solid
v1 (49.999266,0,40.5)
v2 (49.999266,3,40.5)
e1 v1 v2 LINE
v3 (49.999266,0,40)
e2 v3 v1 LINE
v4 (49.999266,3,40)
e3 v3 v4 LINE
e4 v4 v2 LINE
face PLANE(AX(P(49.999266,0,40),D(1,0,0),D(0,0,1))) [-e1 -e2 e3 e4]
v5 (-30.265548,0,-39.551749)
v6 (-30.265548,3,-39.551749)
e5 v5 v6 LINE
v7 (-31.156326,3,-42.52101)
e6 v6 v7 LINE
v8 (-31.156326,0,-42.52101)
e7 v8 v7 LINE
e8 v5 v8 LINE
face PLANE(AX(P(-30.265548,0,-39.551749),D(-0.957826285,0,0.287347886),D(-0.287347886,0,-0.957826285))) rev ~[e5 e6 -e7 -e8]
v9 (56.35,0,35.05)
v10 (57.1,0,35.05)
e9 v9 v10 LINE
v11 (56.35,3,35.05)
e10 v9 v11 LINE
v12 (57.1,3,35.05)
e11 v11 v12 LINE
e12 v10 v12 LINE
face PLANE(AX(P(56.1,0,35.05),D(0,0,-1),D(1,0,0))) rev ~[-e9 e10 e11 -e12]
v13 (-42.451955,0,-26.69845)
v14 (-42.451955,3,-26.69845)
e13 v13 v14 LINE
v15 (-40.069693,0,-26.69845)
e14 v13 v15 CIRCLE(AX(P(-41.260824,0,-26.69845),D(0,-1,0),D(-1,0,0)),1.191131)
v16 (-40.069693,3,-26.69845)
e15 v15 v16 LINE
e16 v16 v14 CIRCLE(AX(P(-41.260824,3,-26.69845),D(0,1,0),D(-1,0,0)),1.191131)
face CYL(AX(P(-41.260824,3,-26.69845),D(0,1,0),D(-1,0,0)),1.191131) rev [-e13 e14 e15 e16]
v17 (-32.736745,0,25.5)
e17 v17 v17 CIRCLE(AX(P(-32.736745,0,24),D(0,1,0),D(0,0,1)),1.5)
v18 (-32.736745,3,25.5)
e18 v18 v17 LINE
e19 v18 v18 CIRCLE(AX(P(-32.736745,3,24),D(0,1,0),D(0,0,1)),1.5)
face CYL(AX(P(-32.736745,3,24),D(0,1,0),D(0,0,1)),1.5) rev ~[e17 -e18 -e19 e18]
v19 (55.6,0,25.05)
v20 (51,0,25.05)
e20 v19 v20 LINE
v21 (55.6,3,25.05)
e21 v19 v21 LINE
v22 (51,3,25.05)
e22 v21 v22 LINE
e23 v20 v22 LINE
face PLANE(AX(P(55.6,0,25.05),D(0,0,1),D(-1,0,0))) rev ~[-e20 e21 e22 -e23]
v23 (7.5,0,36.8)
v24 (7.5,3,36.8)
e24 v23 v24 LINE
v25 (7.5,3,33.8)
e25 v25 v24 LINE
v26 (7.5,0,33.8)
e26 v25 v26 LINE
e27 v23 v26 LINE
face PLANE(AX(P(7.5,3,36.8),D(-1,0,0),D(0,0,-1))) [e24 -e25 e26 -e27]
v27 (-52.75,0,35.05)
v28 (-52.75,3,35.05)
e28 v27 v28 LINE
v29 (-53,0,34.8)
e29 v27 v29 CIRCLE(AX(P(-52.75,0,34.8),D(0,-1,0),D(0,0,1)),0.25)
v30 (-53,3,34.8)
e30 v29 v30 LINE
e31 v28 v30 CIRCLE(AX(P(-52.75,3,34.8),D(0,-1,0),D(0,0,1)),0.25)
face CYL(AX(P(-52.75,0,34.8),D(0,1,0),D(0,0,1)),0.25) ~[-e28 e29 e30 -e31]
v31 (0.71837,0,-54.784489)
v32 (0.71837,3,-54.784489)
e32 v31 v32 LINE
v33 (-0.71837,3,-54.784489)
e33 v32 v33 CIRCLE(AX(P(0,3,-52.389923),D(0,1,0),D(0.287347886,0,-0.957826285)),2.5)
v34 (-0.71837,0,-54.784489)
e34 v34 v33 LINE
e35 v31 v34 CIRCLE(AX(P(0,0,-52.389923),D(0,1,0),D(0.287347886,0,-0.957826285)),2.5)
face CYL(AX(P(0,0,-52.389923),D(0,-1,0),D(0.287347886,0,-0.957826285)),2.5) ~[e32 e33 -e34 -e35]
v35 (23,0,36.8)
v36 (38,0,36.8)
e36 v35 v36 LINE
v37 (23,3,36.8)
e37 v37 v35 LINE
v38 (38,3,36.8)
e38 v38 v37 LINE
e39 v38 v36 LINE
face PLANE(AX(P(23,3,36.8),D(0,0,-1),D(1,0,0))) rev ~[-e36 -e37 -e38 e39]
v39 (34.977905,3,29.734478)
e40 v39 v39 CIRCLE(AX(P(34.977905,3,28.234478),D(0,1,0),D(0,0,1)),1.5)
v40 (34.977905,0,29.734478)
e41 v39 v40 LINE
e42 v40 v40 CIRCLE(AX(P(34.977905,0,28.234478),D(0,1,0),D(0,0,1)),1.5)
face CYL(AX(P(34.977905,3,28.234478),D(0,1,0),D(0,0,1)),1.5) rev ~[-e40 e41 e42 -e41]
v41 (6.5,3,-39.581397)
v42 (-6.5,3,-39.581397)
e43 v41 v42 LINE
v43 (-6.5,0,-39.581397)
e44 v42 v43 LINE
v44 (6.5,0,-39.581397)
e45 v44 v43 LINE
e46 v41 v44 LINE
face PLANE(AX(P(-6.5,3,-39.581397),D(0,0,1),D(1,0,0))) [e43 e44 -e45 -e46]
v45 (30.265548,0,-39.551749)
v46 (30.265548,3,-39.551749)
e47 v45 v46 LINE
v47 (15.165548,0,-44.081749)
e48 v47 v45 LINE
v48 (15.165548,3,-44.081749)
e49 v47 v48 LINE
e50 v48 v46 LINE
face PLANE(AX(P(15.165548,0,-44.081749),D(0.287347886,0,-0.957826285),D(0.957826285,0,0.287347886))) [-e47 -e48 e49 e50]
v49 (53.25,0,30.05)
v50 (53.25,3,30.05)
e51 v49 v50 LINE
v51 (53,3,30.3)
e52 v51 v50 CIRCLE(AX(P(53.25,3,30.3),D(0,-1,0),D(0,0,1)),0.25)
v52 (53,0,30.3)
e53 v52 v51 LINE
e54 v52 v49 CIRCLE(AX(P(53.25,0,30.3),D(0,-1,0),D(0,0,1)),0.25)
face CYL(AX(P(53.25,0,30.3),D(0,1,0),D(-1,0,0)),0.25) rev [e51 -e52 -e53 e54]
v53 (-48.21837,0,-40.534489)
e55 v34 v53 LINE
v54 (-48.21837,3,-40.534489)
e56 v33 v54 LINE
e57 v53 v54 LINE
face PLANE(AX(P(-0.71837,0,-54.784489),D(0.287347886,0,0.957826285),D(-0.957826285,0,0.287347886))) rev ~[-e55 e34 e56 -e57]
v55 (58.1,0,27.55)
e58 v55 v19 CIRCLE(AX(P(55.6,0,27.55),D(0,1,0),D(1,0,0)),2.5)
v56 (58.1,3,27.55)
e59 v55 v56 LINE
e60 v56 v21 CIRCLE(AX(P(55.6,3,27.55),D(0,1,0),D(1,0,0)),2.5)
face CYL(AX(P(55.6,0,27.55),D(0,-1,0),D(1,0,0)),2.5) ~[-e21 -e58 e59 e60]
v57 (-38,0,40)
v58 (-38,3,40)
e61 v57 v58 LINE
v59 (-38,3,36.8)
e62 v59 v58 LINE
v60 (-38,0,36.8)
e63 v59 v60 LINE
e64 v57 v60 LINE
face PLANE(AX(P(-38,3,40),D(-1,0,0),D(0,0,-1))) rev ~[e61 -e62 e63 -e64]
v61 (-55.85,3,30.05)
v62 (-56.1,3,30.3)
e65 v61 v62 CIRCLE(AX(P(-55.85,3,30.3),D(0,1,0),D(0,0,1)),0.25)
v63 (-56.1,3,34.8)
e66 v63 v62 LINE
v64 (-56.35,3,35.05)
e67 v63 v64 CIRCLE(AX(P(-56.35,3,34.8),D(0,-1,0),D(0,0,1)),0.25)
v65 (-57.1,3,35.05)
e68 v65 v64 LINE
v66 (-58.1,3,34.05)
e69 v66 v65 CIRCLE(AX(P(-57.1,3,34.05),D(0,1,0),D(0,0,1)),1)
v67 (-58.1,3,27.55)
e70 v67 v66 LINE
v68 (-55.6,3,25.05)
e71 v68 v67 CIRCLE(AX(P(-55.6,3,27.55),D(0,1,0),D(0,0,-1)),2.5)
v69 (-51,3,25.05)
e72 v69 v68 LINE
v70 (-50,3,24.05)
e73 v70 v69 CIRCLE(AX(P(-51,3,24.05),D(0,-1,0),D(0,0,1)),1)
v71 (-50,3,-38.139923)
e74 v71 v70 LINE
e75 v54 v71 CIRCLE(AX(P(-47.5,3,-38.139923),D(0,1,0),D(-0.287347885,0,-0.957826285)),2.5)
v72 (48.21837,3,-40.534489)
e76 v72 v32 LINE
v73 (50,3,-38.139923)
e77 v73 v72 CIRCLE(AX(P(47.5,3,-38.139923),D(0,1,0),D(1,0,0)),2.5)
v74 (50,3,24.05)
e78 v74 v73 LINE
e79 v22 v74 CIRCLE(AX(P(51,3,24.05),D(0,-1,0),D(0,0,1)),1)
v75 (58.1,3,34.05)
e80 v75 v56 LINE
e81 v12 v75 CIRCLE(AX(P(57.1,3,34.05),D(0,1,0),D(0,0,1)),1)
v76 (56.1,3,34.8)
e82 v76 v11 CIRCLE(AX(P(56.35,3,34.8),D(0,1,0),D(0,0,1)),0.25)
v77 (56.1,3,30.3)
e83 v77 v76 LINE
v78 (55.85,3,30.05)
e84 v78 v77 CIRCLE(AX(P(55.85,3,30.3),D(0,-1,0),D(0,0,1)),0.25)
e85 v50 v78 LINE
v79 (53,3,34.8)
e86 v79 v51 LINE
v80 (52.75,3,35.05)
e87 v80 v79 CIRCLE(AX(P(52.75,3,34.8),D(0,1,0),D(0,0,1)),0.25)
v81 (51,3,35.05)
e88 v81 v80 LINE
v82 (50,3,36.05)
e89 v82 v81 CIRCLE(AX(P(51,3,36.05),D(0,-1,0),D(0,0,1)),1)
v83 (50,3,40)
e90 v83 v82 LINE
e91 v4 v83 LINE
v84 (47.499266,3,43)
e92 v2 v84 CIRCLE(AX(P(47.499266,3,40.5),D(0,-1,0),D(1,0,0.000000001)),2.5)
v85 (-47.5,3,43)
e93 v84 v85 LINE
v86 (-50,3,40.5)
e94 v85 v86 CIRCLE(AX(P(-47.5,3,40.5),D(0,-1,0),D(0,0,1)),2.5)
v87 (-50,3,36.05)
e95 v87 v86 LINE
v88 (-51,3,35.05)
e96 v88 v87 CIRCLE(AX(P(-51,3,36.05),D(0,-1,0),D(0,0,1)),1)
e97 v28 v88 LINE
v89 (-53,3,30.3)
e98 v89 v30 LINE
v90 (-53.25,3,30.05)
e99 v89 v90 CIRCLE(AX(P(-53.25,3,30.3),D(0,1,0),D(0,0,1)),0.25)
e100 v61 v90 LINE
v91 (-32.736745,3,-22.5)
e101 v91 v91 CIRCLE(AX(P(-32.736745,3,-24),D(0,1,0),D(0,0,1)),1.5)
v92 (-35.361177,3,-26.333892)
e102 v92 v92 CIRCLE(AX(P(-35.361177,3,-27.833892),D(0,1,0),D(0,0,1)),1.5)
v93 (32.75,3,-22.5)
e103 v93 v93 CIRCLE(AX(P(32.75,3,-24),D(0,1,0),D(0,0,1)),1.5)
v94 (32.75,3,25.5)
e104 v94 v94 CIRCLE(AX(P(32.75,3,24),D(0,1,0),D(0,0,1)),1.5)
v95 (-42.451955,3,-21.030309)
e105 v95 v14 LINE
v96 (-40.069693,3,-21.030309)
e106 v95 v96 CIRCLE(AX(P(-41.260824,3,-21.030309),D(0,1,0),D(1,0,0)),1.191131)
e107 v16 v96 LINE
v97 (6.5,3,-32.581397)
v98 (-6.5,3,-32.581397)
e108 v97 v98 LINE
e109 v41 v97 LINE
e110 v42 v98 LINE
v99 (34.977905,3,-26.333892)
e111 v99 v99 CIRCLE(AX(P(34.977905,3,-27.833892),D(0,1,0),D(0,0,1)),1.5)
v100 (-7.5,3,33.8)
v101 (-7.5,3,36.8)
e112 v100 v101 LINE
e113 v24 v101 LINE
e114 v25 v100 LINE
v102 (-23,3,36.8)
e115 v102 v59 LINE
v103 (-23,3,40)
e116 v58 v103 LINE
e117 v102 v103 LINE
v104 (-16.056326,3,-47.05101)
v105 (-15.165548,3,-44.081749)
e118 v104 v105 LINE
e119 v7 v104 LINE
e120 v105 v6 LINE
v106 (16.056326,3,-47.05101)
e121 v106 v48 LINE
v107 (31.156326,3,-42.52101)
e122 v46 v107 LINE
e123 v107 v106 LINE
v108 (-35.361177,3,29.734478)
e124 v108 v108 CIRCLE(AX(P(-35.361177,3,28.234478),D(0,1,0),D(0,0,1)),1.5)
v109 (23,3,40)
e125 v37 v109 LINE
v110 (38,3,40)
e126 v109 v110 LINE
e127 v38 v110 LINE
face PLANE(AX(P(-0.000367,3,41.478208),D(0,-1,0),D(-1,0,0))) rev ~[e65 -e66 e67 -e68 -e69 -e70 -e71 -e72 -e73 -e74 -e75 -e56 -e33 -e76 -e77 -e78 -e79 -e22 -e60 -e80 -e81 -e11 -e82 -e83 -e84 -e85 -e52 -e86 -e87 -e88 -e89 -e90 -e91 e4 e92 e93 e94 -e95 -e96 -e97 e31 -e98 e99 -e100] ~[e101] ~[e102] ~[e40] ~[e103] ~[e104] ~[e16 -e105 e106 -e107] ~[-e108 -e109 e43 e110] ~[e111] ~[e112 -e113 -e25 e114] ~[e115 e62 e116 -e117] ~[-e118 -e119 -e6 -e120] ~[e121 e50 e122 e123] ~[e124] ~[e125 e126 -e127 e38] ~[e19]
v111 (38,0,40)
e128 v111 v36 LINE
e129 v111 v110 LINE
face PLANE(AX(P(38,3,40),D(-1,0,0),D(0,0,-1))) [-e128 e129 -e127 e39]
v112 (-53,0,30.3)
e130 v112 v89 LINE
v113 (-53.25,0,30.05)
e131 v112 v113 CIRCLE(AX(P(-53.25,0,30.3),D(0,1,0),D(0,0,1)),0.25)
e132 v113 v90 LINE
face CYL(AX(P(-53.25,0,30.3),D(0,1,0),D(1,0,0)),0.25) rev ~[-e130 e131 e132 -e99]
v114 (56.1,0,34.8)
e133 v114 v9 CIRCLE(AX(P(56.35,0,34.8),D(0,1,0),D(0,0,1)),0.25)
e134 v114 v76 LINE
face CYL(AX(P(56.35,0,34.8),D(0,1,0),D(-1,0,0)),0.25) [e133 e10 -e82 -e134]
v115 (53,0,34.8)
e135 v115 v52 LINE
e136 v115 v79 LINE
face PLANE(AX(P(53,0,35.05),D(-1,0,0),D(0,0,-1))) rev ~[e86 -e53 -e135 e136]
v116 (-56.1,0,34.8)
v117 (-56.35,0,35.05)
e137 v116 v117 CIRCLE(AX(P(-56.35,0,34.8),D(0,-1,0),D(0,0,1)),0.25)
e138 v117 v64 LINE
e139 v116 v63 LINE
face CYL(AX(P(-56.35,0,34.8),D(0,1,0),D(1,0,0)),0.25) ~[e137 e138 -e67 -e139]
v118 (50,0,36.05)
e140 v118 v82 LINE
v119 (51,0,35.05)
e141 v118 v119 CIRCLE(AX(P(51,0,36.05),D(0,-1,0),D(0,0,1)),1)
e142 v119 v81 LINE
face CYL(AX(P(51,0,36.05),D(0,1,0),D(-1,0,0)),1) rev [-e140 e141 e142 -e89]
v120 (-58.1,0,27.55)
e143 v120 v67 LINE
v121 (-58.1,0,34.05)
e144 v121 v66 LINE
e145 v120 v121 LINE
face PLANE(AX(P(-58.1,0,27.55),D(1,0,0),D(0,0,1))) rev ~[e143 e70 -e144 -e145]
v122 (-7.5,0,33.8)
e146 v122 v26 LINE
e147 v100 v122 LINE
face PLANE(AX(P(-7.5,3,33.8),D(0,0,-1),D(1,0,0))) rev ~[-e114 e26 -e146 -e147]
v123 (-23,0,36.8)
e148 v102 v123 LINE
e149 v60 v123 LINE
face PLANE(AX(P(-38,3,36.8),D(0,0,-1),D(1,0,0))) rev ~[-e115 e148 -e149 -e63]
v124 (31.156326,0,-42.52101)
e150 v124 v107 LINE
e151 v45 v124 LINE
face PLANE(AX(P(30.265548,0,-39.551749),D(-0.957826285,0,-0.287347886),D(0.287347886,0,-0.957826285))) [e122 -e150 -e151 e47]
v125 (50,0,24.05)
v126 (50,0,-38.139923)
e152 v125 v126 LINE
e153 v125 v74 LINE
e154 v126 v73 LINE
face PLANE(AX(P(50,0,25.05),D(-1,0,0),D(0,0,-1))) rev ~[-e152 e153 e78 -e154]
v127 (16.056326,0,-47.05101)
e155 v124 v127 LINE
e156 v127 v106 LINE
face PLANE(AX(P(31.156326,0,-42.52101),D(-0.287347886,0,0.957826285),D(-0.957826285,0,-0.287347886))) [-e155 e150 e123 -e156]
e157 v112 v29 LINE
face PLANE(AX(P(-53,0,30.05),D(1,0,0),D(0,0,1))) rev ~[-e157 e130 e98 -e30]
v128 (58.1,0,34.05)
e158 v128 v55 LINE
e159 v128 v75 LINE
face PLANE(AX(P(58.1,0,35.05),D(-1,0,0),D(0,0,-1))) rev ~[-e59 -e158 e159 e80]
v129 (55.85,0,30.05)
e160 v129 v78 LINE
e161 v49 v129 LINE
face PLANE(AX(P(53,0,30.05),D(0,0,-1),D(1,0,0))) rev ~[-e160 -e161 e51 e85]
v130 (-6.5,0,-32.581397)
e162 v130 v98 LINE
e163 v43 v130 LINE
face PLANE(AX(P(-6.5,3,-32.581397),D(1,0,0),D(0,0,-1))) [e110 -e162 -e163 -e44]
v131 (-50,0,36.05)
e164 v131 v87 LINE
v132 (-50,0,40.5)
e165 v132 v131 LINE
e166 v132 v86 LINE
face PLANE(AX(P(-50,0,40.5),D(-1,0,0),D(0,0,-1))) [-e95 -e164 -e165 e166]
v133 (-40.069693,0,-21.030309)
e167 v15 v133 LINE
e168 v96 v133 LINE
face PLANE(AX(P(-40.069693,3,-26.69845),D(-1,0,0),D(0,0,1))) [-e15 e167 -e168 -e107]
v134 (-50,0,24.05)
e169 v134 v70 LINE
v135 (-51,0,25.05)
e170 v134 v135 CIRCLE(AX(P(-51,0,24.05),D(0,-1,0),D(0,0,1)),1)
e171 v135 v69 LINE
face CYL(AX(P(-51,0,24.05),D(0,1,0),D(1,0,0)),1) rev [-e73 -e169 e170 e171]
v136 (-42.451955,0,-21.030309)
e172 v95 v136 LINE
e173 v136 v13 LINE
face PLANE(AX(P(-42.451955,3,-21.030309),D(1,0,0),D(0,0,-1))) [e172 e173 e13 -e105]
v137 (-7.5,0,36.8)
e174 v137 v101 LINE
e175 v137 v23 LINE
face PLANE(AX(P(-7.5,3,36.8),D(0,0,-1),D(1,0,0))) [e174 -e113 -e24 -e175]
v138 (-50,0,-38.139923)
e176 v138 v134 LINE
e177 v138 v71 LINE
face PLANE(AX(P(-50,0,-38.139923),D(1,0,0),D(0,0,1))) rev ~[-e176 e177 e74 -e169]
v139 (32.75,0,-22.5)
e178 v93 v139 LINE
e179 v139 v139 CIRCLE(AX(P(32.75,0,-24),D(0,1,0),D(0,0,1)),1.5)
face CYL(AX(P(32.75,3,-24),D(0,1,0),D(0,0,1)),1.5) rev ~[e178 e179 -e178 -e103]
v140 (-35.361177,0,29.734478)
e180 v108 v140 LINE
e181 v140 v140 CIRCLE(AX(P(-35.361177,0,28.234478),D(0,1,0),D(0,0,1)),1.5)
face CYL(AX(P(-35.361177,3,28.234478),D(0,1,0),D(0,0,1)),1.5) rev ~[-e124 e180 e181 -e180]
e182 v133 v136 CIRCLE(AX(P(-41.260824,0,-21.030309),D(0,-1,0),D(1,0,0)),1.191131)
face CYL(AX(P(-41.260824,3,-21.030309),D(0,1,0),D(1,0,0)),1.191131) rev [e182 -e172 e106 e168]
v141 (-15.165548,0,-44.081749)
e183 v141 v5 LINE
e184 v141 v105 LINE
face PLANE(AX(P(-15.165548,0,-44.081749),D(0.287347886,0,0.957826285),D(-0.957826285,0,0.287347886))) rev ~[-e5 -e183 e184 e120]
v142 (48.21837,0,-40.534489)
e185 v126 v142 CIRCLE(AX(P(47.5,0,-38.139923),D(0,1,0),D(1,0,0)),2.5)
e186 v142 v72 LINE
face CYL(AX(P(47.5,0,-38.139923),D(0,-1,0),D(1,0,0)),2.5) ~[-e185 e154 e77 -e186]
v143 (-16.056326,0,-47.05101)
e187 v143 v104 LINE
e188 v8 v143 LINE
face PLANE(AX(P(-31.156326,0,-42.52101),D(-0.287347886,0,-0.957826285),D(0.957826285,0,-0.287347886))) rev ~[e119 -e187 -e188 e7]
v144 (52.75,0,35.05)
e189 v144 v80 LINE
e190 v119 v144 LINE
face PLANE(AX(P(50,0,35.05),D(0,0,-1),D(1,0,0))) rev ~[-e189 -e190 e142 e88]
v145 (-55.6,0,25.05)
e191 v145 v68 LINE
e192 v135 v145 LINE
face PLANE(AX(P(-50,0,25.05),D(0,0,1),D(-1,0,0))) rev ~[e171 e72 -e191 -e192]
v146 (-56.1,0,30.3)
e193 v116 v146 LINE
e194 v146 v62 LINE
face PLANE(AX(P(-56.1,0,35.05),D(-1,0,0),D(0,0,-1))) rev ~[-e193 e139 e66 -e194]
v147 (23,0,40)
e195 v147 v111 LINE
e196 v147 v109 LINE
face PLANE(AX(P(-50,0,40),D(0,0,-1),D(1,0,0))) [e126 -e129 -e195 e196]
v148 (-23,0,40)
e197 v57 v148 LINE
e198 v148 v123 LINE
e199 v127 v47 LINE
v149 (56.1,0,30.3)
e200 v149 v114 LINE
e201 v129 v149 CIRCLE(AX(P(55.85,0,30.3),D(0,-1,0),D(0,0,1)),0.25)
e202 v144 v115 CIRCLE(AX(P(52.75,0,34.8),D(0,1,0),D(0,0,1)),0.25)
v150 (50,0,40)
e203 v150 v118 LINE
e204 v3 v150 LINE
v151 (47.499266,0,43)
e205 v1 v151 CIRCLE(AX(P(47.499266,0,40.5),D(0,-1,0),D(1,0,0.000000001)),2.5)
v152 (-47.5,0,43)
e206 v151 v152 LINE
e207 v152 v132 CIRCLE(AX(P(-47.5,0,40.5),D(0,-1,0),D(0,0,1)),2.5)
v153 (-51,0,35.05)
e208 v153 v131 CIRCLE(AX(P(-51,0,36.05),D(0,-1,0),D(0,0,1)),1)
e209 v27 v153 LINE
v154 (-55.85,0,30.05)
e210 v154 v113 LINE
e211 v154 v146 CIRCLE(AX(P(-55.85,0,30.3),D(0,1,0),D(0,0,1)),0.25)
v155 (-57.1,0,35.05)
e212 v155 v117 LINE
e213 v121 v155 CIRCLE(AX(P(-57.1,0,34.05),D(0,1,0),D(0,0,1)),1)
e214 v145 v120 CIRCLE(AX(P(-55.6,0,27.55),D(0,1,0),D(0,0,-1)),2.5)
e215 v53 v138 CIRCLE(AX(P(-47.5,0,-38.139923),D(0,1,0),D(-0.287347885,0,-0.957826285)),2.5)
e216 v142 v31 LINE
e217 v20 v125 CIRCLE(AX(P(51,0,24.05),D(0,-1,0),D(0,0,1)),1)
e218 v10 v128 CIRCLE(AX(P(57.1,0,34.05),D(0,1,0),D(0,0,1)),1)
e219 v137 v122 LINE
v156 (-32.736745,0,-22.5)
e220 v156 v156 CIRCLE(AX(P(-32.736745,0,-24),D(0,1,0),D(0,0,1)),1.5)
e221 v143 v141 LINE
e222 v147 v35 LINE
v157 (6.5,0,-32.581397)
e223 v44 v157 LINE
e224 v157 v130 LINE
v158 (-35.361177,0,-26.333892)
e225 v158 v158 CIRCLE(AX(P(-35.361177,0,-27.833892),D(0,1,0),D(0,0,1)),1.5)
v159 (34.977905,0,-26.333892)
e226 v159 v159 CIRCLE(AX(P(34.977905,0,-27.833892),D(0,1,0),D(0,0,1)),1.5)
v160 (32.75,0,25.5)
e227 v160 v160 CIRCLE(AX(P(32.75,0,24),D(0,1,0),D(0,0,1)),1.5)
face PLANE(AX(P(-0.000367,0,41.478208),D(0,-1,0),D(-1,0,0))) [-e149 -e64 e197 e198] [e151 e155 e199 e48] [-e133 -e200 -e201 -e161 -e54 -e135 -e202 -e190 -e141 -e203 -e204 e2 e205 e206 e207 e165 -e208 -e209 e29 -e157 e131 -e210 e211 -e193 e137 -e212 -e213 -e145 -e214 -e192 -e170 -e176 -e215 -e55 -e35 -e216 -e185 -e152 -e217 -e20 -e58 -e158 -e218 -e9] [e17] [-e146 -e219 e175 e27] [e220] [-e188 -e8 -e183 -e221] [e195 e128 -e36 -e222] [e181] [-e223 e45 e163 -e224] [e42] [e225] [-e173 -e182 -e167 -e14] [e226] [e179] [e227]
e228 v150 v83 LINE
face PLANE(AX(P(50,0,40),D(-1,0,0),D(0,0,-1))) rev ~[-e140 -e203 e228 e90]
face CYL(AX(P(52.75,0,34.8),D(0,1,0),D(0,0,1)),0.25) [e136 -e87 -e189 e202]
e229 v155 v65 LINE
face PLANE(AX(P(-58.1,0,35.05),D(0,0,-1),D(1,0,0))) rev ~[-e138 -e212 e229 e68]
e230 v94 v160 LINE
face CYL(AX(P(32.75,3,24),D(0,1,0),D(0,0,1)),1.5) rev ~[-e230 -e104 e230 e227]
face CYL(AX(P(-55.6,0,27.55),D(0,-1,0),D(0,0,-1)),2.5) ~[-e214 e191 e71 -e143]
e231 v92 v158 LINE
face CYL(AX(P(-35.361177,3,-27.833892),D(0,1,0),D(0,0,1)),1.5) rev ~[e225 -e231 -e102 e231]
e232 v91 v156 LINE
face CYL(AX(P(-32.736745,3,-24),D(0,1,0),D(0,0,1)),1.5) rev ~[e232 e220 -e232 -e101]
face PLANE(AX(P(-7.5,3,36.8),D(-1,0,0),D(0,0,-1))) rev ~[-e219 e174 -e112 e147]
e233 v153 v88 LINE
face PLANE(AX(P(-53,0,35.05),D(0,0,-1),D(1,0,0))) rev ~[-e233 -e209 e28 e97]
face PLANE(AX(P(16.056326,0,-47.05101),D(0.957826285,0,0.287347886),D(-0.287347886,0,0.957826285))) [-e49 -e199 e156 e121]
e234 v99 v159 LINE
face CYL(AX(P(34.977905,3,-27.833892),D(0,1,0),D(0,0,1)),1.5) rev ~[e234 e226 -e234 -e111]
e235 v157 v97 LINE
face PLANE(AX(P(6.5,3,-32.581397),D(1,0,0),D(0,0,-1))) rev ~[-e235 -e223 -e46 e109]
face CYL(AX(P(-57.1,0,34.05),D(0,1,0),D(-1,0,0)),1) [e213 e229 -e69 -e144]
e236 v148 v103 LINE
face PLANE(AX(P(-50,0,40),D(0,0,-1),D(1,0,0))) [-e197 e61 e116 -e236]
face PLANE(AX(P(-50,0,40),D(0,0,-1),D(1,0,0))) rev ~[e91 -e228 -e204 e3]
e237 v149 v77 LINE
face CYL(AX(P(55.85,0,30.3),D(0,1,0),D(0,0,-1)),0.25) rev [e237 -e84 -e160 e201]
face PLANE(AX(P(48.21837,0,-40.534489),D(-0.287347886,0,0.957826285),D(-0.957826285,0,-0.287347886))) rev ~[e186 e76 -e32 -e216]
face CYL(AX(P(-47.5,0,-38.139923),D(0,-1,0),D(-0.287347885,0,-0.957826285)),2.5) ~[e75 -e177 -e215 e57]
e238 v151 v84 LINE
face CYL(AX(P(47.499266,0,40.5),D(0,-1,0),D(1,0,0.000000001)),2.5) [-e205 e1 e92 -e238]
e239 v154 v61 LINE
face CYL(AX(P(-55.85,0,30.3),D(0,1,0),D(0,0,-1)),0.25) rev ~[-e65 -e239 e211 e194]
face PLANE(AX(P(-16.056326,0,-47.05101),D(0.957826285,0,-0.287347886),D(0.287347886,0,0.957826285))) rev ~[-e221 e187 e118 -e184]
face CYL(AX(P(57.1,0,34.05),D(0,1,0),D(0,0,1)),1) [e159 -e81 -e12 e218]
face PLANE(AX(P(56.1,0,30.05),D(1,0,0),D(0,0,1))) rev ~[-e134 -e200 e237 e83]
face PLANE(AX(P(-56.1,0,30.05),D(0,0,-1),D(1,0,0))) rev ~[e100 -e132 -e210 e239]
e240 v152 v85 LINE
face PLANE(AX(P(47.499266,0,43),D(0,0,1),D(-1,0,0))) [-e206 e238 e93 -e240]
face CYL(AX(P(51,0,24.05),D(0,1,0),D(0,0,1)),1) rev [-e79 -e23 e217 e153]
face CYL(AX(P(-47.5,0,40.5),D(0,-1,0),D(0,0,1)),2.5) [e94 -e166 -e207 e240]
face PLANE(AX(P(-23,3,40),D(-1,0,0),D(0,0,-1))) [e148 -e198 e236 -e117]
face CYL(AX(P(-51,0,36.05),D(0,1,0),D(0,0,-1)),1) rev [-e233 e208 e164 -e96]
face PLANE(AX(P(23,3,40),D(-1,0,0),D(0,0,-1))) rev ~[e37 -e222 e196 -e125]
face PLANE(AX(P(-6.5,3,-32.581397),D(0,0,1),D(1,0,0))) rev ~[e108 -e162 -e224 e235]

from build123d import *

# Parameters (mm, degrees)
SALIENTE_EXTRUIR1_DEPTH = 3
CROQUIS4_R              = 1.5
CROQUIS4_W              = 15
CROQUIS4_H              = 3.2
CROQUIS4_H_2            = 3
CORTAR_EXTRUIR1_DEPTH   = 3
SALIENTE_EXTRUIR2_DEPTH = 3
REDONDEO1_R             = 1
REDONDEO2_R             = 0.25
CROQUIS6_R              = 1.5
CROQUIS6_W              = 13
CROQUIS6_H              = 7
CORTAR_EXTRUIR2_DEPTH   = 5


with BuildPart() as part:
    # Croquis3 → Saliente-Extruir1 (new body)
    with BuildSketch(Plane(origin=(0, 0, 0), x_dir=(1, 0, 0), z_dir=(0, 1, 0))):
        with BuildLine():
            Line((-50, -40), (50, -40))
            Line((50, -40), (50, -35.05))
            Line((50, -35.05), (53, -35.05))
            Line((53, -35.05), (53, -30.05))
            Line((53, -30.05), (56.1, -30.05))
            Line((56.1, -30.05), (56.1, -35.05))
            Line((56.1, -35.05), (58.1, -35.05))
            Line((58.1, -35.05), (58.1, -27.55))
            ThreePointArc((58.1, -27.55), (57.367766953, -25.782233047), (55.6, -25.05))
            Line((55.6, -25.05), (50, -25.05))
            Line((50, -25.05), (50, 38.139923373))
            ThreePointArc((50, 38.139923373), (49.505732321, 39.632249697), (48.218369714, 40.534489086))
            Line((48.218369714, 40.534489086), (0.718369714, 54.784489086))
            ThreePointArc((0.718369714, 54.784489086), (0, 54.889923373), (-0.718369714, 54.784489086))
            Line((-0.718369714, 54.784489086), (-48.218369714, 40.534489086))
            ThreePointArc((-48.218369714, 40.534489086), (-49.505732321, 39.632249697), (-50, 38.139923373))
            Line((-50, 38.139923373), (-50, -25.05))
            Line((-50, -25.05), (-55.6, -25.05))
            ThreePointArc((-55.6, -25.05), (-57.367766953, -25.782233047), (-58.1, -27.55))
            Line((-58.1, -27.55), (-58.1, -35.05))
            Line((-58.1, -35.05), (-56.1, -35.05))
            Line((-56.1, -35.05), (-56.1, -30.05))
            Line((-56.1, -30.05), (-53, -30.05))
            Line((-53, -30.05), (-53, -35.05))
            Line((-53, -35.05), (-50, -35.05))
            Line((-50, -35.05), (-50, -40))
        make_face()
        Polygon((-31.156326057, 42.52101023), (-16.056326057, 47.05101023), (-15.165547612, 44.081748746), (-30.265547612, 39.551748746), align=None, mode=Mode.SUBTRACT)
        Polygon((15.165547612, 44.081748746), (30.265547612, 39.551748746), (31.156326057, 42.52101023), (16.056326057, 47.05101023), align=None, mode=Mode.SUBTRACT)
    extrude(amount=SALIENTE_EXTRUIR1_DEPTH)

    # Croquis4 → Cortar-Extruir1 (cut, symmetric)
    with BuildSketch(Plane(origin=(0, 3, 0), x_dir=(1, 0, 0), z_dir=(0, 1, 0))):
        with Locations(Location((32.75, 24, 0), (0, 0, 270))):
            Circle(CROQUIS4_R)
        with Locations(Location((-32.736745283, 24, 0), (0, 0, 270))):
            Circle(CROQUIS4_R)
        with Locations(Location((32.75, -24, 0), (0, 0, 270))):
            Circle(CROQUIS4_R)
        with Locations(Location((-32.736745283, -24, 0), (0, 0, 270))):
            Circle(CROQUIS4_R)
        with Locations((-30.5, -38.4)):
            Rectangle(CROQUIS4_W, CROQUIS4_H)
        with Locations((30.5, -38.4)):
            Rectangle(CROQUIS4_W, CROQUIS4_H)
        with Locations((0, -35.3)):
            Rectangle(CROQUIS4_W, CROQUIS4_H_2)
        with BuildLine():
            Line((-40.069692956, 26.698449706), (-40.069692956, 21.030308718))
            ThreePointArc((-40.069692956, 21.030308718), (-41.260824034, 19.839177641), (-42.451955111, 21.030308718))
            Line((-42.451955111, 21.030308718), (-42.451955111, 26.698449706))
            ThreePointArc((-42.451955111, 26.698449706), (-41.260824034, 27.889580784), (-40.069692956, 26.698449706))
        make_face()
    extrude(amount=CORTAR_EXTRUIR1_DEPTH, both=True, mode=Mode.SUBTRACT)

    # Croquis5 → Saliente-Extruir2 (add)
    with BuildSketch(Plane(origin=(0, 0, 0), x_dir=(1, 0, 0), z_dir=(0, 1, 0))):
        with BuildLine():
            Line((-50, -40), (49.999265674, -40))
            Line((49.999265674, -40), (49.999265674, -40.5))
            ThreePointArc((49.999265674, -40.5), (49.267032626, -42.267766953), (47.499265674, -43))
            Line((47.499265674, -43), (-47.5, -43))
            ThreePointArc((-47.5, -43), (-49.267766953, -42.267766953), (-50, -40.5))
            Line((-50, -40.5), (-50, -40))
        make_face()
    extrude(amount=SALIENTE_EXTRUIR2_DEPTH)

    # Redondeo1
    redondeo1_edges = [part.edges().sort_by_distance(p)[0] for p in [
        (-50, 1.5, 35.05),
        (-58.1, 1.5, 35.05),
        (-50, 1.5, 25.05),
        (50, 1.5, 25.05),
        (58.1, 1.5, 35.05),
        (50, 1.5, 35.05),
    ]]
    fillet(redondeo1_edges, radius=REDONDEO1_R)

    # Redondeo2
    redondeo2_edges = [part.edges().sort_by_distance(p)[0] for p in [
        (-53, 1.5, 35.05),
        (-53, 1.5, 30.05),
        (-56.1, 1.5, 30.05),
        (-56.1, 1.5, 35.05),
        (56.1, 1.5, 35.05),
        (56.1, 1.5, 30.05),
        (53, 1.5, 30.05),
        (53, 1.5, 35.05),
    ]]
    fillet(redondeo2_edges, radius=REDONDEO2_R)

    # Croquis6 → Cortar-Extruir2 (cut, symmetric)
    with BuildSketch(Plane(origin=(0, 3, 0), x_dir=(1, 0, 0), z_dir=(0, 1, 0))):
        with Locations(Location((-35.361176909, 27.833892011, 0), (0, 0, 270))):
            Circle(CROQUIS6_R)
        with Locations(Location((34.977904809, 27.833892011, 0), (0, 0, 270))):
            Circle(CROQUIS6_R)
        with Locations(Location((34.977904809, -28.23447772, 0), (0, 0, 270))):
            Circle(CROQUIS6_R)
        with Locations(Location((-35.361176909, -28.23447772, 0), (0, 0, 270))):
            Circle(CROQUIS6_R)
        with Locations((0, 36.081396556)):
            Rectangle(CROQUIS6_W, CROQUIS6_H)
    extrude(amount=CORTAR_EXTRUIR2_DEPTH, both=True, mode=Mode.SUBTRACT)


solid = part.part
